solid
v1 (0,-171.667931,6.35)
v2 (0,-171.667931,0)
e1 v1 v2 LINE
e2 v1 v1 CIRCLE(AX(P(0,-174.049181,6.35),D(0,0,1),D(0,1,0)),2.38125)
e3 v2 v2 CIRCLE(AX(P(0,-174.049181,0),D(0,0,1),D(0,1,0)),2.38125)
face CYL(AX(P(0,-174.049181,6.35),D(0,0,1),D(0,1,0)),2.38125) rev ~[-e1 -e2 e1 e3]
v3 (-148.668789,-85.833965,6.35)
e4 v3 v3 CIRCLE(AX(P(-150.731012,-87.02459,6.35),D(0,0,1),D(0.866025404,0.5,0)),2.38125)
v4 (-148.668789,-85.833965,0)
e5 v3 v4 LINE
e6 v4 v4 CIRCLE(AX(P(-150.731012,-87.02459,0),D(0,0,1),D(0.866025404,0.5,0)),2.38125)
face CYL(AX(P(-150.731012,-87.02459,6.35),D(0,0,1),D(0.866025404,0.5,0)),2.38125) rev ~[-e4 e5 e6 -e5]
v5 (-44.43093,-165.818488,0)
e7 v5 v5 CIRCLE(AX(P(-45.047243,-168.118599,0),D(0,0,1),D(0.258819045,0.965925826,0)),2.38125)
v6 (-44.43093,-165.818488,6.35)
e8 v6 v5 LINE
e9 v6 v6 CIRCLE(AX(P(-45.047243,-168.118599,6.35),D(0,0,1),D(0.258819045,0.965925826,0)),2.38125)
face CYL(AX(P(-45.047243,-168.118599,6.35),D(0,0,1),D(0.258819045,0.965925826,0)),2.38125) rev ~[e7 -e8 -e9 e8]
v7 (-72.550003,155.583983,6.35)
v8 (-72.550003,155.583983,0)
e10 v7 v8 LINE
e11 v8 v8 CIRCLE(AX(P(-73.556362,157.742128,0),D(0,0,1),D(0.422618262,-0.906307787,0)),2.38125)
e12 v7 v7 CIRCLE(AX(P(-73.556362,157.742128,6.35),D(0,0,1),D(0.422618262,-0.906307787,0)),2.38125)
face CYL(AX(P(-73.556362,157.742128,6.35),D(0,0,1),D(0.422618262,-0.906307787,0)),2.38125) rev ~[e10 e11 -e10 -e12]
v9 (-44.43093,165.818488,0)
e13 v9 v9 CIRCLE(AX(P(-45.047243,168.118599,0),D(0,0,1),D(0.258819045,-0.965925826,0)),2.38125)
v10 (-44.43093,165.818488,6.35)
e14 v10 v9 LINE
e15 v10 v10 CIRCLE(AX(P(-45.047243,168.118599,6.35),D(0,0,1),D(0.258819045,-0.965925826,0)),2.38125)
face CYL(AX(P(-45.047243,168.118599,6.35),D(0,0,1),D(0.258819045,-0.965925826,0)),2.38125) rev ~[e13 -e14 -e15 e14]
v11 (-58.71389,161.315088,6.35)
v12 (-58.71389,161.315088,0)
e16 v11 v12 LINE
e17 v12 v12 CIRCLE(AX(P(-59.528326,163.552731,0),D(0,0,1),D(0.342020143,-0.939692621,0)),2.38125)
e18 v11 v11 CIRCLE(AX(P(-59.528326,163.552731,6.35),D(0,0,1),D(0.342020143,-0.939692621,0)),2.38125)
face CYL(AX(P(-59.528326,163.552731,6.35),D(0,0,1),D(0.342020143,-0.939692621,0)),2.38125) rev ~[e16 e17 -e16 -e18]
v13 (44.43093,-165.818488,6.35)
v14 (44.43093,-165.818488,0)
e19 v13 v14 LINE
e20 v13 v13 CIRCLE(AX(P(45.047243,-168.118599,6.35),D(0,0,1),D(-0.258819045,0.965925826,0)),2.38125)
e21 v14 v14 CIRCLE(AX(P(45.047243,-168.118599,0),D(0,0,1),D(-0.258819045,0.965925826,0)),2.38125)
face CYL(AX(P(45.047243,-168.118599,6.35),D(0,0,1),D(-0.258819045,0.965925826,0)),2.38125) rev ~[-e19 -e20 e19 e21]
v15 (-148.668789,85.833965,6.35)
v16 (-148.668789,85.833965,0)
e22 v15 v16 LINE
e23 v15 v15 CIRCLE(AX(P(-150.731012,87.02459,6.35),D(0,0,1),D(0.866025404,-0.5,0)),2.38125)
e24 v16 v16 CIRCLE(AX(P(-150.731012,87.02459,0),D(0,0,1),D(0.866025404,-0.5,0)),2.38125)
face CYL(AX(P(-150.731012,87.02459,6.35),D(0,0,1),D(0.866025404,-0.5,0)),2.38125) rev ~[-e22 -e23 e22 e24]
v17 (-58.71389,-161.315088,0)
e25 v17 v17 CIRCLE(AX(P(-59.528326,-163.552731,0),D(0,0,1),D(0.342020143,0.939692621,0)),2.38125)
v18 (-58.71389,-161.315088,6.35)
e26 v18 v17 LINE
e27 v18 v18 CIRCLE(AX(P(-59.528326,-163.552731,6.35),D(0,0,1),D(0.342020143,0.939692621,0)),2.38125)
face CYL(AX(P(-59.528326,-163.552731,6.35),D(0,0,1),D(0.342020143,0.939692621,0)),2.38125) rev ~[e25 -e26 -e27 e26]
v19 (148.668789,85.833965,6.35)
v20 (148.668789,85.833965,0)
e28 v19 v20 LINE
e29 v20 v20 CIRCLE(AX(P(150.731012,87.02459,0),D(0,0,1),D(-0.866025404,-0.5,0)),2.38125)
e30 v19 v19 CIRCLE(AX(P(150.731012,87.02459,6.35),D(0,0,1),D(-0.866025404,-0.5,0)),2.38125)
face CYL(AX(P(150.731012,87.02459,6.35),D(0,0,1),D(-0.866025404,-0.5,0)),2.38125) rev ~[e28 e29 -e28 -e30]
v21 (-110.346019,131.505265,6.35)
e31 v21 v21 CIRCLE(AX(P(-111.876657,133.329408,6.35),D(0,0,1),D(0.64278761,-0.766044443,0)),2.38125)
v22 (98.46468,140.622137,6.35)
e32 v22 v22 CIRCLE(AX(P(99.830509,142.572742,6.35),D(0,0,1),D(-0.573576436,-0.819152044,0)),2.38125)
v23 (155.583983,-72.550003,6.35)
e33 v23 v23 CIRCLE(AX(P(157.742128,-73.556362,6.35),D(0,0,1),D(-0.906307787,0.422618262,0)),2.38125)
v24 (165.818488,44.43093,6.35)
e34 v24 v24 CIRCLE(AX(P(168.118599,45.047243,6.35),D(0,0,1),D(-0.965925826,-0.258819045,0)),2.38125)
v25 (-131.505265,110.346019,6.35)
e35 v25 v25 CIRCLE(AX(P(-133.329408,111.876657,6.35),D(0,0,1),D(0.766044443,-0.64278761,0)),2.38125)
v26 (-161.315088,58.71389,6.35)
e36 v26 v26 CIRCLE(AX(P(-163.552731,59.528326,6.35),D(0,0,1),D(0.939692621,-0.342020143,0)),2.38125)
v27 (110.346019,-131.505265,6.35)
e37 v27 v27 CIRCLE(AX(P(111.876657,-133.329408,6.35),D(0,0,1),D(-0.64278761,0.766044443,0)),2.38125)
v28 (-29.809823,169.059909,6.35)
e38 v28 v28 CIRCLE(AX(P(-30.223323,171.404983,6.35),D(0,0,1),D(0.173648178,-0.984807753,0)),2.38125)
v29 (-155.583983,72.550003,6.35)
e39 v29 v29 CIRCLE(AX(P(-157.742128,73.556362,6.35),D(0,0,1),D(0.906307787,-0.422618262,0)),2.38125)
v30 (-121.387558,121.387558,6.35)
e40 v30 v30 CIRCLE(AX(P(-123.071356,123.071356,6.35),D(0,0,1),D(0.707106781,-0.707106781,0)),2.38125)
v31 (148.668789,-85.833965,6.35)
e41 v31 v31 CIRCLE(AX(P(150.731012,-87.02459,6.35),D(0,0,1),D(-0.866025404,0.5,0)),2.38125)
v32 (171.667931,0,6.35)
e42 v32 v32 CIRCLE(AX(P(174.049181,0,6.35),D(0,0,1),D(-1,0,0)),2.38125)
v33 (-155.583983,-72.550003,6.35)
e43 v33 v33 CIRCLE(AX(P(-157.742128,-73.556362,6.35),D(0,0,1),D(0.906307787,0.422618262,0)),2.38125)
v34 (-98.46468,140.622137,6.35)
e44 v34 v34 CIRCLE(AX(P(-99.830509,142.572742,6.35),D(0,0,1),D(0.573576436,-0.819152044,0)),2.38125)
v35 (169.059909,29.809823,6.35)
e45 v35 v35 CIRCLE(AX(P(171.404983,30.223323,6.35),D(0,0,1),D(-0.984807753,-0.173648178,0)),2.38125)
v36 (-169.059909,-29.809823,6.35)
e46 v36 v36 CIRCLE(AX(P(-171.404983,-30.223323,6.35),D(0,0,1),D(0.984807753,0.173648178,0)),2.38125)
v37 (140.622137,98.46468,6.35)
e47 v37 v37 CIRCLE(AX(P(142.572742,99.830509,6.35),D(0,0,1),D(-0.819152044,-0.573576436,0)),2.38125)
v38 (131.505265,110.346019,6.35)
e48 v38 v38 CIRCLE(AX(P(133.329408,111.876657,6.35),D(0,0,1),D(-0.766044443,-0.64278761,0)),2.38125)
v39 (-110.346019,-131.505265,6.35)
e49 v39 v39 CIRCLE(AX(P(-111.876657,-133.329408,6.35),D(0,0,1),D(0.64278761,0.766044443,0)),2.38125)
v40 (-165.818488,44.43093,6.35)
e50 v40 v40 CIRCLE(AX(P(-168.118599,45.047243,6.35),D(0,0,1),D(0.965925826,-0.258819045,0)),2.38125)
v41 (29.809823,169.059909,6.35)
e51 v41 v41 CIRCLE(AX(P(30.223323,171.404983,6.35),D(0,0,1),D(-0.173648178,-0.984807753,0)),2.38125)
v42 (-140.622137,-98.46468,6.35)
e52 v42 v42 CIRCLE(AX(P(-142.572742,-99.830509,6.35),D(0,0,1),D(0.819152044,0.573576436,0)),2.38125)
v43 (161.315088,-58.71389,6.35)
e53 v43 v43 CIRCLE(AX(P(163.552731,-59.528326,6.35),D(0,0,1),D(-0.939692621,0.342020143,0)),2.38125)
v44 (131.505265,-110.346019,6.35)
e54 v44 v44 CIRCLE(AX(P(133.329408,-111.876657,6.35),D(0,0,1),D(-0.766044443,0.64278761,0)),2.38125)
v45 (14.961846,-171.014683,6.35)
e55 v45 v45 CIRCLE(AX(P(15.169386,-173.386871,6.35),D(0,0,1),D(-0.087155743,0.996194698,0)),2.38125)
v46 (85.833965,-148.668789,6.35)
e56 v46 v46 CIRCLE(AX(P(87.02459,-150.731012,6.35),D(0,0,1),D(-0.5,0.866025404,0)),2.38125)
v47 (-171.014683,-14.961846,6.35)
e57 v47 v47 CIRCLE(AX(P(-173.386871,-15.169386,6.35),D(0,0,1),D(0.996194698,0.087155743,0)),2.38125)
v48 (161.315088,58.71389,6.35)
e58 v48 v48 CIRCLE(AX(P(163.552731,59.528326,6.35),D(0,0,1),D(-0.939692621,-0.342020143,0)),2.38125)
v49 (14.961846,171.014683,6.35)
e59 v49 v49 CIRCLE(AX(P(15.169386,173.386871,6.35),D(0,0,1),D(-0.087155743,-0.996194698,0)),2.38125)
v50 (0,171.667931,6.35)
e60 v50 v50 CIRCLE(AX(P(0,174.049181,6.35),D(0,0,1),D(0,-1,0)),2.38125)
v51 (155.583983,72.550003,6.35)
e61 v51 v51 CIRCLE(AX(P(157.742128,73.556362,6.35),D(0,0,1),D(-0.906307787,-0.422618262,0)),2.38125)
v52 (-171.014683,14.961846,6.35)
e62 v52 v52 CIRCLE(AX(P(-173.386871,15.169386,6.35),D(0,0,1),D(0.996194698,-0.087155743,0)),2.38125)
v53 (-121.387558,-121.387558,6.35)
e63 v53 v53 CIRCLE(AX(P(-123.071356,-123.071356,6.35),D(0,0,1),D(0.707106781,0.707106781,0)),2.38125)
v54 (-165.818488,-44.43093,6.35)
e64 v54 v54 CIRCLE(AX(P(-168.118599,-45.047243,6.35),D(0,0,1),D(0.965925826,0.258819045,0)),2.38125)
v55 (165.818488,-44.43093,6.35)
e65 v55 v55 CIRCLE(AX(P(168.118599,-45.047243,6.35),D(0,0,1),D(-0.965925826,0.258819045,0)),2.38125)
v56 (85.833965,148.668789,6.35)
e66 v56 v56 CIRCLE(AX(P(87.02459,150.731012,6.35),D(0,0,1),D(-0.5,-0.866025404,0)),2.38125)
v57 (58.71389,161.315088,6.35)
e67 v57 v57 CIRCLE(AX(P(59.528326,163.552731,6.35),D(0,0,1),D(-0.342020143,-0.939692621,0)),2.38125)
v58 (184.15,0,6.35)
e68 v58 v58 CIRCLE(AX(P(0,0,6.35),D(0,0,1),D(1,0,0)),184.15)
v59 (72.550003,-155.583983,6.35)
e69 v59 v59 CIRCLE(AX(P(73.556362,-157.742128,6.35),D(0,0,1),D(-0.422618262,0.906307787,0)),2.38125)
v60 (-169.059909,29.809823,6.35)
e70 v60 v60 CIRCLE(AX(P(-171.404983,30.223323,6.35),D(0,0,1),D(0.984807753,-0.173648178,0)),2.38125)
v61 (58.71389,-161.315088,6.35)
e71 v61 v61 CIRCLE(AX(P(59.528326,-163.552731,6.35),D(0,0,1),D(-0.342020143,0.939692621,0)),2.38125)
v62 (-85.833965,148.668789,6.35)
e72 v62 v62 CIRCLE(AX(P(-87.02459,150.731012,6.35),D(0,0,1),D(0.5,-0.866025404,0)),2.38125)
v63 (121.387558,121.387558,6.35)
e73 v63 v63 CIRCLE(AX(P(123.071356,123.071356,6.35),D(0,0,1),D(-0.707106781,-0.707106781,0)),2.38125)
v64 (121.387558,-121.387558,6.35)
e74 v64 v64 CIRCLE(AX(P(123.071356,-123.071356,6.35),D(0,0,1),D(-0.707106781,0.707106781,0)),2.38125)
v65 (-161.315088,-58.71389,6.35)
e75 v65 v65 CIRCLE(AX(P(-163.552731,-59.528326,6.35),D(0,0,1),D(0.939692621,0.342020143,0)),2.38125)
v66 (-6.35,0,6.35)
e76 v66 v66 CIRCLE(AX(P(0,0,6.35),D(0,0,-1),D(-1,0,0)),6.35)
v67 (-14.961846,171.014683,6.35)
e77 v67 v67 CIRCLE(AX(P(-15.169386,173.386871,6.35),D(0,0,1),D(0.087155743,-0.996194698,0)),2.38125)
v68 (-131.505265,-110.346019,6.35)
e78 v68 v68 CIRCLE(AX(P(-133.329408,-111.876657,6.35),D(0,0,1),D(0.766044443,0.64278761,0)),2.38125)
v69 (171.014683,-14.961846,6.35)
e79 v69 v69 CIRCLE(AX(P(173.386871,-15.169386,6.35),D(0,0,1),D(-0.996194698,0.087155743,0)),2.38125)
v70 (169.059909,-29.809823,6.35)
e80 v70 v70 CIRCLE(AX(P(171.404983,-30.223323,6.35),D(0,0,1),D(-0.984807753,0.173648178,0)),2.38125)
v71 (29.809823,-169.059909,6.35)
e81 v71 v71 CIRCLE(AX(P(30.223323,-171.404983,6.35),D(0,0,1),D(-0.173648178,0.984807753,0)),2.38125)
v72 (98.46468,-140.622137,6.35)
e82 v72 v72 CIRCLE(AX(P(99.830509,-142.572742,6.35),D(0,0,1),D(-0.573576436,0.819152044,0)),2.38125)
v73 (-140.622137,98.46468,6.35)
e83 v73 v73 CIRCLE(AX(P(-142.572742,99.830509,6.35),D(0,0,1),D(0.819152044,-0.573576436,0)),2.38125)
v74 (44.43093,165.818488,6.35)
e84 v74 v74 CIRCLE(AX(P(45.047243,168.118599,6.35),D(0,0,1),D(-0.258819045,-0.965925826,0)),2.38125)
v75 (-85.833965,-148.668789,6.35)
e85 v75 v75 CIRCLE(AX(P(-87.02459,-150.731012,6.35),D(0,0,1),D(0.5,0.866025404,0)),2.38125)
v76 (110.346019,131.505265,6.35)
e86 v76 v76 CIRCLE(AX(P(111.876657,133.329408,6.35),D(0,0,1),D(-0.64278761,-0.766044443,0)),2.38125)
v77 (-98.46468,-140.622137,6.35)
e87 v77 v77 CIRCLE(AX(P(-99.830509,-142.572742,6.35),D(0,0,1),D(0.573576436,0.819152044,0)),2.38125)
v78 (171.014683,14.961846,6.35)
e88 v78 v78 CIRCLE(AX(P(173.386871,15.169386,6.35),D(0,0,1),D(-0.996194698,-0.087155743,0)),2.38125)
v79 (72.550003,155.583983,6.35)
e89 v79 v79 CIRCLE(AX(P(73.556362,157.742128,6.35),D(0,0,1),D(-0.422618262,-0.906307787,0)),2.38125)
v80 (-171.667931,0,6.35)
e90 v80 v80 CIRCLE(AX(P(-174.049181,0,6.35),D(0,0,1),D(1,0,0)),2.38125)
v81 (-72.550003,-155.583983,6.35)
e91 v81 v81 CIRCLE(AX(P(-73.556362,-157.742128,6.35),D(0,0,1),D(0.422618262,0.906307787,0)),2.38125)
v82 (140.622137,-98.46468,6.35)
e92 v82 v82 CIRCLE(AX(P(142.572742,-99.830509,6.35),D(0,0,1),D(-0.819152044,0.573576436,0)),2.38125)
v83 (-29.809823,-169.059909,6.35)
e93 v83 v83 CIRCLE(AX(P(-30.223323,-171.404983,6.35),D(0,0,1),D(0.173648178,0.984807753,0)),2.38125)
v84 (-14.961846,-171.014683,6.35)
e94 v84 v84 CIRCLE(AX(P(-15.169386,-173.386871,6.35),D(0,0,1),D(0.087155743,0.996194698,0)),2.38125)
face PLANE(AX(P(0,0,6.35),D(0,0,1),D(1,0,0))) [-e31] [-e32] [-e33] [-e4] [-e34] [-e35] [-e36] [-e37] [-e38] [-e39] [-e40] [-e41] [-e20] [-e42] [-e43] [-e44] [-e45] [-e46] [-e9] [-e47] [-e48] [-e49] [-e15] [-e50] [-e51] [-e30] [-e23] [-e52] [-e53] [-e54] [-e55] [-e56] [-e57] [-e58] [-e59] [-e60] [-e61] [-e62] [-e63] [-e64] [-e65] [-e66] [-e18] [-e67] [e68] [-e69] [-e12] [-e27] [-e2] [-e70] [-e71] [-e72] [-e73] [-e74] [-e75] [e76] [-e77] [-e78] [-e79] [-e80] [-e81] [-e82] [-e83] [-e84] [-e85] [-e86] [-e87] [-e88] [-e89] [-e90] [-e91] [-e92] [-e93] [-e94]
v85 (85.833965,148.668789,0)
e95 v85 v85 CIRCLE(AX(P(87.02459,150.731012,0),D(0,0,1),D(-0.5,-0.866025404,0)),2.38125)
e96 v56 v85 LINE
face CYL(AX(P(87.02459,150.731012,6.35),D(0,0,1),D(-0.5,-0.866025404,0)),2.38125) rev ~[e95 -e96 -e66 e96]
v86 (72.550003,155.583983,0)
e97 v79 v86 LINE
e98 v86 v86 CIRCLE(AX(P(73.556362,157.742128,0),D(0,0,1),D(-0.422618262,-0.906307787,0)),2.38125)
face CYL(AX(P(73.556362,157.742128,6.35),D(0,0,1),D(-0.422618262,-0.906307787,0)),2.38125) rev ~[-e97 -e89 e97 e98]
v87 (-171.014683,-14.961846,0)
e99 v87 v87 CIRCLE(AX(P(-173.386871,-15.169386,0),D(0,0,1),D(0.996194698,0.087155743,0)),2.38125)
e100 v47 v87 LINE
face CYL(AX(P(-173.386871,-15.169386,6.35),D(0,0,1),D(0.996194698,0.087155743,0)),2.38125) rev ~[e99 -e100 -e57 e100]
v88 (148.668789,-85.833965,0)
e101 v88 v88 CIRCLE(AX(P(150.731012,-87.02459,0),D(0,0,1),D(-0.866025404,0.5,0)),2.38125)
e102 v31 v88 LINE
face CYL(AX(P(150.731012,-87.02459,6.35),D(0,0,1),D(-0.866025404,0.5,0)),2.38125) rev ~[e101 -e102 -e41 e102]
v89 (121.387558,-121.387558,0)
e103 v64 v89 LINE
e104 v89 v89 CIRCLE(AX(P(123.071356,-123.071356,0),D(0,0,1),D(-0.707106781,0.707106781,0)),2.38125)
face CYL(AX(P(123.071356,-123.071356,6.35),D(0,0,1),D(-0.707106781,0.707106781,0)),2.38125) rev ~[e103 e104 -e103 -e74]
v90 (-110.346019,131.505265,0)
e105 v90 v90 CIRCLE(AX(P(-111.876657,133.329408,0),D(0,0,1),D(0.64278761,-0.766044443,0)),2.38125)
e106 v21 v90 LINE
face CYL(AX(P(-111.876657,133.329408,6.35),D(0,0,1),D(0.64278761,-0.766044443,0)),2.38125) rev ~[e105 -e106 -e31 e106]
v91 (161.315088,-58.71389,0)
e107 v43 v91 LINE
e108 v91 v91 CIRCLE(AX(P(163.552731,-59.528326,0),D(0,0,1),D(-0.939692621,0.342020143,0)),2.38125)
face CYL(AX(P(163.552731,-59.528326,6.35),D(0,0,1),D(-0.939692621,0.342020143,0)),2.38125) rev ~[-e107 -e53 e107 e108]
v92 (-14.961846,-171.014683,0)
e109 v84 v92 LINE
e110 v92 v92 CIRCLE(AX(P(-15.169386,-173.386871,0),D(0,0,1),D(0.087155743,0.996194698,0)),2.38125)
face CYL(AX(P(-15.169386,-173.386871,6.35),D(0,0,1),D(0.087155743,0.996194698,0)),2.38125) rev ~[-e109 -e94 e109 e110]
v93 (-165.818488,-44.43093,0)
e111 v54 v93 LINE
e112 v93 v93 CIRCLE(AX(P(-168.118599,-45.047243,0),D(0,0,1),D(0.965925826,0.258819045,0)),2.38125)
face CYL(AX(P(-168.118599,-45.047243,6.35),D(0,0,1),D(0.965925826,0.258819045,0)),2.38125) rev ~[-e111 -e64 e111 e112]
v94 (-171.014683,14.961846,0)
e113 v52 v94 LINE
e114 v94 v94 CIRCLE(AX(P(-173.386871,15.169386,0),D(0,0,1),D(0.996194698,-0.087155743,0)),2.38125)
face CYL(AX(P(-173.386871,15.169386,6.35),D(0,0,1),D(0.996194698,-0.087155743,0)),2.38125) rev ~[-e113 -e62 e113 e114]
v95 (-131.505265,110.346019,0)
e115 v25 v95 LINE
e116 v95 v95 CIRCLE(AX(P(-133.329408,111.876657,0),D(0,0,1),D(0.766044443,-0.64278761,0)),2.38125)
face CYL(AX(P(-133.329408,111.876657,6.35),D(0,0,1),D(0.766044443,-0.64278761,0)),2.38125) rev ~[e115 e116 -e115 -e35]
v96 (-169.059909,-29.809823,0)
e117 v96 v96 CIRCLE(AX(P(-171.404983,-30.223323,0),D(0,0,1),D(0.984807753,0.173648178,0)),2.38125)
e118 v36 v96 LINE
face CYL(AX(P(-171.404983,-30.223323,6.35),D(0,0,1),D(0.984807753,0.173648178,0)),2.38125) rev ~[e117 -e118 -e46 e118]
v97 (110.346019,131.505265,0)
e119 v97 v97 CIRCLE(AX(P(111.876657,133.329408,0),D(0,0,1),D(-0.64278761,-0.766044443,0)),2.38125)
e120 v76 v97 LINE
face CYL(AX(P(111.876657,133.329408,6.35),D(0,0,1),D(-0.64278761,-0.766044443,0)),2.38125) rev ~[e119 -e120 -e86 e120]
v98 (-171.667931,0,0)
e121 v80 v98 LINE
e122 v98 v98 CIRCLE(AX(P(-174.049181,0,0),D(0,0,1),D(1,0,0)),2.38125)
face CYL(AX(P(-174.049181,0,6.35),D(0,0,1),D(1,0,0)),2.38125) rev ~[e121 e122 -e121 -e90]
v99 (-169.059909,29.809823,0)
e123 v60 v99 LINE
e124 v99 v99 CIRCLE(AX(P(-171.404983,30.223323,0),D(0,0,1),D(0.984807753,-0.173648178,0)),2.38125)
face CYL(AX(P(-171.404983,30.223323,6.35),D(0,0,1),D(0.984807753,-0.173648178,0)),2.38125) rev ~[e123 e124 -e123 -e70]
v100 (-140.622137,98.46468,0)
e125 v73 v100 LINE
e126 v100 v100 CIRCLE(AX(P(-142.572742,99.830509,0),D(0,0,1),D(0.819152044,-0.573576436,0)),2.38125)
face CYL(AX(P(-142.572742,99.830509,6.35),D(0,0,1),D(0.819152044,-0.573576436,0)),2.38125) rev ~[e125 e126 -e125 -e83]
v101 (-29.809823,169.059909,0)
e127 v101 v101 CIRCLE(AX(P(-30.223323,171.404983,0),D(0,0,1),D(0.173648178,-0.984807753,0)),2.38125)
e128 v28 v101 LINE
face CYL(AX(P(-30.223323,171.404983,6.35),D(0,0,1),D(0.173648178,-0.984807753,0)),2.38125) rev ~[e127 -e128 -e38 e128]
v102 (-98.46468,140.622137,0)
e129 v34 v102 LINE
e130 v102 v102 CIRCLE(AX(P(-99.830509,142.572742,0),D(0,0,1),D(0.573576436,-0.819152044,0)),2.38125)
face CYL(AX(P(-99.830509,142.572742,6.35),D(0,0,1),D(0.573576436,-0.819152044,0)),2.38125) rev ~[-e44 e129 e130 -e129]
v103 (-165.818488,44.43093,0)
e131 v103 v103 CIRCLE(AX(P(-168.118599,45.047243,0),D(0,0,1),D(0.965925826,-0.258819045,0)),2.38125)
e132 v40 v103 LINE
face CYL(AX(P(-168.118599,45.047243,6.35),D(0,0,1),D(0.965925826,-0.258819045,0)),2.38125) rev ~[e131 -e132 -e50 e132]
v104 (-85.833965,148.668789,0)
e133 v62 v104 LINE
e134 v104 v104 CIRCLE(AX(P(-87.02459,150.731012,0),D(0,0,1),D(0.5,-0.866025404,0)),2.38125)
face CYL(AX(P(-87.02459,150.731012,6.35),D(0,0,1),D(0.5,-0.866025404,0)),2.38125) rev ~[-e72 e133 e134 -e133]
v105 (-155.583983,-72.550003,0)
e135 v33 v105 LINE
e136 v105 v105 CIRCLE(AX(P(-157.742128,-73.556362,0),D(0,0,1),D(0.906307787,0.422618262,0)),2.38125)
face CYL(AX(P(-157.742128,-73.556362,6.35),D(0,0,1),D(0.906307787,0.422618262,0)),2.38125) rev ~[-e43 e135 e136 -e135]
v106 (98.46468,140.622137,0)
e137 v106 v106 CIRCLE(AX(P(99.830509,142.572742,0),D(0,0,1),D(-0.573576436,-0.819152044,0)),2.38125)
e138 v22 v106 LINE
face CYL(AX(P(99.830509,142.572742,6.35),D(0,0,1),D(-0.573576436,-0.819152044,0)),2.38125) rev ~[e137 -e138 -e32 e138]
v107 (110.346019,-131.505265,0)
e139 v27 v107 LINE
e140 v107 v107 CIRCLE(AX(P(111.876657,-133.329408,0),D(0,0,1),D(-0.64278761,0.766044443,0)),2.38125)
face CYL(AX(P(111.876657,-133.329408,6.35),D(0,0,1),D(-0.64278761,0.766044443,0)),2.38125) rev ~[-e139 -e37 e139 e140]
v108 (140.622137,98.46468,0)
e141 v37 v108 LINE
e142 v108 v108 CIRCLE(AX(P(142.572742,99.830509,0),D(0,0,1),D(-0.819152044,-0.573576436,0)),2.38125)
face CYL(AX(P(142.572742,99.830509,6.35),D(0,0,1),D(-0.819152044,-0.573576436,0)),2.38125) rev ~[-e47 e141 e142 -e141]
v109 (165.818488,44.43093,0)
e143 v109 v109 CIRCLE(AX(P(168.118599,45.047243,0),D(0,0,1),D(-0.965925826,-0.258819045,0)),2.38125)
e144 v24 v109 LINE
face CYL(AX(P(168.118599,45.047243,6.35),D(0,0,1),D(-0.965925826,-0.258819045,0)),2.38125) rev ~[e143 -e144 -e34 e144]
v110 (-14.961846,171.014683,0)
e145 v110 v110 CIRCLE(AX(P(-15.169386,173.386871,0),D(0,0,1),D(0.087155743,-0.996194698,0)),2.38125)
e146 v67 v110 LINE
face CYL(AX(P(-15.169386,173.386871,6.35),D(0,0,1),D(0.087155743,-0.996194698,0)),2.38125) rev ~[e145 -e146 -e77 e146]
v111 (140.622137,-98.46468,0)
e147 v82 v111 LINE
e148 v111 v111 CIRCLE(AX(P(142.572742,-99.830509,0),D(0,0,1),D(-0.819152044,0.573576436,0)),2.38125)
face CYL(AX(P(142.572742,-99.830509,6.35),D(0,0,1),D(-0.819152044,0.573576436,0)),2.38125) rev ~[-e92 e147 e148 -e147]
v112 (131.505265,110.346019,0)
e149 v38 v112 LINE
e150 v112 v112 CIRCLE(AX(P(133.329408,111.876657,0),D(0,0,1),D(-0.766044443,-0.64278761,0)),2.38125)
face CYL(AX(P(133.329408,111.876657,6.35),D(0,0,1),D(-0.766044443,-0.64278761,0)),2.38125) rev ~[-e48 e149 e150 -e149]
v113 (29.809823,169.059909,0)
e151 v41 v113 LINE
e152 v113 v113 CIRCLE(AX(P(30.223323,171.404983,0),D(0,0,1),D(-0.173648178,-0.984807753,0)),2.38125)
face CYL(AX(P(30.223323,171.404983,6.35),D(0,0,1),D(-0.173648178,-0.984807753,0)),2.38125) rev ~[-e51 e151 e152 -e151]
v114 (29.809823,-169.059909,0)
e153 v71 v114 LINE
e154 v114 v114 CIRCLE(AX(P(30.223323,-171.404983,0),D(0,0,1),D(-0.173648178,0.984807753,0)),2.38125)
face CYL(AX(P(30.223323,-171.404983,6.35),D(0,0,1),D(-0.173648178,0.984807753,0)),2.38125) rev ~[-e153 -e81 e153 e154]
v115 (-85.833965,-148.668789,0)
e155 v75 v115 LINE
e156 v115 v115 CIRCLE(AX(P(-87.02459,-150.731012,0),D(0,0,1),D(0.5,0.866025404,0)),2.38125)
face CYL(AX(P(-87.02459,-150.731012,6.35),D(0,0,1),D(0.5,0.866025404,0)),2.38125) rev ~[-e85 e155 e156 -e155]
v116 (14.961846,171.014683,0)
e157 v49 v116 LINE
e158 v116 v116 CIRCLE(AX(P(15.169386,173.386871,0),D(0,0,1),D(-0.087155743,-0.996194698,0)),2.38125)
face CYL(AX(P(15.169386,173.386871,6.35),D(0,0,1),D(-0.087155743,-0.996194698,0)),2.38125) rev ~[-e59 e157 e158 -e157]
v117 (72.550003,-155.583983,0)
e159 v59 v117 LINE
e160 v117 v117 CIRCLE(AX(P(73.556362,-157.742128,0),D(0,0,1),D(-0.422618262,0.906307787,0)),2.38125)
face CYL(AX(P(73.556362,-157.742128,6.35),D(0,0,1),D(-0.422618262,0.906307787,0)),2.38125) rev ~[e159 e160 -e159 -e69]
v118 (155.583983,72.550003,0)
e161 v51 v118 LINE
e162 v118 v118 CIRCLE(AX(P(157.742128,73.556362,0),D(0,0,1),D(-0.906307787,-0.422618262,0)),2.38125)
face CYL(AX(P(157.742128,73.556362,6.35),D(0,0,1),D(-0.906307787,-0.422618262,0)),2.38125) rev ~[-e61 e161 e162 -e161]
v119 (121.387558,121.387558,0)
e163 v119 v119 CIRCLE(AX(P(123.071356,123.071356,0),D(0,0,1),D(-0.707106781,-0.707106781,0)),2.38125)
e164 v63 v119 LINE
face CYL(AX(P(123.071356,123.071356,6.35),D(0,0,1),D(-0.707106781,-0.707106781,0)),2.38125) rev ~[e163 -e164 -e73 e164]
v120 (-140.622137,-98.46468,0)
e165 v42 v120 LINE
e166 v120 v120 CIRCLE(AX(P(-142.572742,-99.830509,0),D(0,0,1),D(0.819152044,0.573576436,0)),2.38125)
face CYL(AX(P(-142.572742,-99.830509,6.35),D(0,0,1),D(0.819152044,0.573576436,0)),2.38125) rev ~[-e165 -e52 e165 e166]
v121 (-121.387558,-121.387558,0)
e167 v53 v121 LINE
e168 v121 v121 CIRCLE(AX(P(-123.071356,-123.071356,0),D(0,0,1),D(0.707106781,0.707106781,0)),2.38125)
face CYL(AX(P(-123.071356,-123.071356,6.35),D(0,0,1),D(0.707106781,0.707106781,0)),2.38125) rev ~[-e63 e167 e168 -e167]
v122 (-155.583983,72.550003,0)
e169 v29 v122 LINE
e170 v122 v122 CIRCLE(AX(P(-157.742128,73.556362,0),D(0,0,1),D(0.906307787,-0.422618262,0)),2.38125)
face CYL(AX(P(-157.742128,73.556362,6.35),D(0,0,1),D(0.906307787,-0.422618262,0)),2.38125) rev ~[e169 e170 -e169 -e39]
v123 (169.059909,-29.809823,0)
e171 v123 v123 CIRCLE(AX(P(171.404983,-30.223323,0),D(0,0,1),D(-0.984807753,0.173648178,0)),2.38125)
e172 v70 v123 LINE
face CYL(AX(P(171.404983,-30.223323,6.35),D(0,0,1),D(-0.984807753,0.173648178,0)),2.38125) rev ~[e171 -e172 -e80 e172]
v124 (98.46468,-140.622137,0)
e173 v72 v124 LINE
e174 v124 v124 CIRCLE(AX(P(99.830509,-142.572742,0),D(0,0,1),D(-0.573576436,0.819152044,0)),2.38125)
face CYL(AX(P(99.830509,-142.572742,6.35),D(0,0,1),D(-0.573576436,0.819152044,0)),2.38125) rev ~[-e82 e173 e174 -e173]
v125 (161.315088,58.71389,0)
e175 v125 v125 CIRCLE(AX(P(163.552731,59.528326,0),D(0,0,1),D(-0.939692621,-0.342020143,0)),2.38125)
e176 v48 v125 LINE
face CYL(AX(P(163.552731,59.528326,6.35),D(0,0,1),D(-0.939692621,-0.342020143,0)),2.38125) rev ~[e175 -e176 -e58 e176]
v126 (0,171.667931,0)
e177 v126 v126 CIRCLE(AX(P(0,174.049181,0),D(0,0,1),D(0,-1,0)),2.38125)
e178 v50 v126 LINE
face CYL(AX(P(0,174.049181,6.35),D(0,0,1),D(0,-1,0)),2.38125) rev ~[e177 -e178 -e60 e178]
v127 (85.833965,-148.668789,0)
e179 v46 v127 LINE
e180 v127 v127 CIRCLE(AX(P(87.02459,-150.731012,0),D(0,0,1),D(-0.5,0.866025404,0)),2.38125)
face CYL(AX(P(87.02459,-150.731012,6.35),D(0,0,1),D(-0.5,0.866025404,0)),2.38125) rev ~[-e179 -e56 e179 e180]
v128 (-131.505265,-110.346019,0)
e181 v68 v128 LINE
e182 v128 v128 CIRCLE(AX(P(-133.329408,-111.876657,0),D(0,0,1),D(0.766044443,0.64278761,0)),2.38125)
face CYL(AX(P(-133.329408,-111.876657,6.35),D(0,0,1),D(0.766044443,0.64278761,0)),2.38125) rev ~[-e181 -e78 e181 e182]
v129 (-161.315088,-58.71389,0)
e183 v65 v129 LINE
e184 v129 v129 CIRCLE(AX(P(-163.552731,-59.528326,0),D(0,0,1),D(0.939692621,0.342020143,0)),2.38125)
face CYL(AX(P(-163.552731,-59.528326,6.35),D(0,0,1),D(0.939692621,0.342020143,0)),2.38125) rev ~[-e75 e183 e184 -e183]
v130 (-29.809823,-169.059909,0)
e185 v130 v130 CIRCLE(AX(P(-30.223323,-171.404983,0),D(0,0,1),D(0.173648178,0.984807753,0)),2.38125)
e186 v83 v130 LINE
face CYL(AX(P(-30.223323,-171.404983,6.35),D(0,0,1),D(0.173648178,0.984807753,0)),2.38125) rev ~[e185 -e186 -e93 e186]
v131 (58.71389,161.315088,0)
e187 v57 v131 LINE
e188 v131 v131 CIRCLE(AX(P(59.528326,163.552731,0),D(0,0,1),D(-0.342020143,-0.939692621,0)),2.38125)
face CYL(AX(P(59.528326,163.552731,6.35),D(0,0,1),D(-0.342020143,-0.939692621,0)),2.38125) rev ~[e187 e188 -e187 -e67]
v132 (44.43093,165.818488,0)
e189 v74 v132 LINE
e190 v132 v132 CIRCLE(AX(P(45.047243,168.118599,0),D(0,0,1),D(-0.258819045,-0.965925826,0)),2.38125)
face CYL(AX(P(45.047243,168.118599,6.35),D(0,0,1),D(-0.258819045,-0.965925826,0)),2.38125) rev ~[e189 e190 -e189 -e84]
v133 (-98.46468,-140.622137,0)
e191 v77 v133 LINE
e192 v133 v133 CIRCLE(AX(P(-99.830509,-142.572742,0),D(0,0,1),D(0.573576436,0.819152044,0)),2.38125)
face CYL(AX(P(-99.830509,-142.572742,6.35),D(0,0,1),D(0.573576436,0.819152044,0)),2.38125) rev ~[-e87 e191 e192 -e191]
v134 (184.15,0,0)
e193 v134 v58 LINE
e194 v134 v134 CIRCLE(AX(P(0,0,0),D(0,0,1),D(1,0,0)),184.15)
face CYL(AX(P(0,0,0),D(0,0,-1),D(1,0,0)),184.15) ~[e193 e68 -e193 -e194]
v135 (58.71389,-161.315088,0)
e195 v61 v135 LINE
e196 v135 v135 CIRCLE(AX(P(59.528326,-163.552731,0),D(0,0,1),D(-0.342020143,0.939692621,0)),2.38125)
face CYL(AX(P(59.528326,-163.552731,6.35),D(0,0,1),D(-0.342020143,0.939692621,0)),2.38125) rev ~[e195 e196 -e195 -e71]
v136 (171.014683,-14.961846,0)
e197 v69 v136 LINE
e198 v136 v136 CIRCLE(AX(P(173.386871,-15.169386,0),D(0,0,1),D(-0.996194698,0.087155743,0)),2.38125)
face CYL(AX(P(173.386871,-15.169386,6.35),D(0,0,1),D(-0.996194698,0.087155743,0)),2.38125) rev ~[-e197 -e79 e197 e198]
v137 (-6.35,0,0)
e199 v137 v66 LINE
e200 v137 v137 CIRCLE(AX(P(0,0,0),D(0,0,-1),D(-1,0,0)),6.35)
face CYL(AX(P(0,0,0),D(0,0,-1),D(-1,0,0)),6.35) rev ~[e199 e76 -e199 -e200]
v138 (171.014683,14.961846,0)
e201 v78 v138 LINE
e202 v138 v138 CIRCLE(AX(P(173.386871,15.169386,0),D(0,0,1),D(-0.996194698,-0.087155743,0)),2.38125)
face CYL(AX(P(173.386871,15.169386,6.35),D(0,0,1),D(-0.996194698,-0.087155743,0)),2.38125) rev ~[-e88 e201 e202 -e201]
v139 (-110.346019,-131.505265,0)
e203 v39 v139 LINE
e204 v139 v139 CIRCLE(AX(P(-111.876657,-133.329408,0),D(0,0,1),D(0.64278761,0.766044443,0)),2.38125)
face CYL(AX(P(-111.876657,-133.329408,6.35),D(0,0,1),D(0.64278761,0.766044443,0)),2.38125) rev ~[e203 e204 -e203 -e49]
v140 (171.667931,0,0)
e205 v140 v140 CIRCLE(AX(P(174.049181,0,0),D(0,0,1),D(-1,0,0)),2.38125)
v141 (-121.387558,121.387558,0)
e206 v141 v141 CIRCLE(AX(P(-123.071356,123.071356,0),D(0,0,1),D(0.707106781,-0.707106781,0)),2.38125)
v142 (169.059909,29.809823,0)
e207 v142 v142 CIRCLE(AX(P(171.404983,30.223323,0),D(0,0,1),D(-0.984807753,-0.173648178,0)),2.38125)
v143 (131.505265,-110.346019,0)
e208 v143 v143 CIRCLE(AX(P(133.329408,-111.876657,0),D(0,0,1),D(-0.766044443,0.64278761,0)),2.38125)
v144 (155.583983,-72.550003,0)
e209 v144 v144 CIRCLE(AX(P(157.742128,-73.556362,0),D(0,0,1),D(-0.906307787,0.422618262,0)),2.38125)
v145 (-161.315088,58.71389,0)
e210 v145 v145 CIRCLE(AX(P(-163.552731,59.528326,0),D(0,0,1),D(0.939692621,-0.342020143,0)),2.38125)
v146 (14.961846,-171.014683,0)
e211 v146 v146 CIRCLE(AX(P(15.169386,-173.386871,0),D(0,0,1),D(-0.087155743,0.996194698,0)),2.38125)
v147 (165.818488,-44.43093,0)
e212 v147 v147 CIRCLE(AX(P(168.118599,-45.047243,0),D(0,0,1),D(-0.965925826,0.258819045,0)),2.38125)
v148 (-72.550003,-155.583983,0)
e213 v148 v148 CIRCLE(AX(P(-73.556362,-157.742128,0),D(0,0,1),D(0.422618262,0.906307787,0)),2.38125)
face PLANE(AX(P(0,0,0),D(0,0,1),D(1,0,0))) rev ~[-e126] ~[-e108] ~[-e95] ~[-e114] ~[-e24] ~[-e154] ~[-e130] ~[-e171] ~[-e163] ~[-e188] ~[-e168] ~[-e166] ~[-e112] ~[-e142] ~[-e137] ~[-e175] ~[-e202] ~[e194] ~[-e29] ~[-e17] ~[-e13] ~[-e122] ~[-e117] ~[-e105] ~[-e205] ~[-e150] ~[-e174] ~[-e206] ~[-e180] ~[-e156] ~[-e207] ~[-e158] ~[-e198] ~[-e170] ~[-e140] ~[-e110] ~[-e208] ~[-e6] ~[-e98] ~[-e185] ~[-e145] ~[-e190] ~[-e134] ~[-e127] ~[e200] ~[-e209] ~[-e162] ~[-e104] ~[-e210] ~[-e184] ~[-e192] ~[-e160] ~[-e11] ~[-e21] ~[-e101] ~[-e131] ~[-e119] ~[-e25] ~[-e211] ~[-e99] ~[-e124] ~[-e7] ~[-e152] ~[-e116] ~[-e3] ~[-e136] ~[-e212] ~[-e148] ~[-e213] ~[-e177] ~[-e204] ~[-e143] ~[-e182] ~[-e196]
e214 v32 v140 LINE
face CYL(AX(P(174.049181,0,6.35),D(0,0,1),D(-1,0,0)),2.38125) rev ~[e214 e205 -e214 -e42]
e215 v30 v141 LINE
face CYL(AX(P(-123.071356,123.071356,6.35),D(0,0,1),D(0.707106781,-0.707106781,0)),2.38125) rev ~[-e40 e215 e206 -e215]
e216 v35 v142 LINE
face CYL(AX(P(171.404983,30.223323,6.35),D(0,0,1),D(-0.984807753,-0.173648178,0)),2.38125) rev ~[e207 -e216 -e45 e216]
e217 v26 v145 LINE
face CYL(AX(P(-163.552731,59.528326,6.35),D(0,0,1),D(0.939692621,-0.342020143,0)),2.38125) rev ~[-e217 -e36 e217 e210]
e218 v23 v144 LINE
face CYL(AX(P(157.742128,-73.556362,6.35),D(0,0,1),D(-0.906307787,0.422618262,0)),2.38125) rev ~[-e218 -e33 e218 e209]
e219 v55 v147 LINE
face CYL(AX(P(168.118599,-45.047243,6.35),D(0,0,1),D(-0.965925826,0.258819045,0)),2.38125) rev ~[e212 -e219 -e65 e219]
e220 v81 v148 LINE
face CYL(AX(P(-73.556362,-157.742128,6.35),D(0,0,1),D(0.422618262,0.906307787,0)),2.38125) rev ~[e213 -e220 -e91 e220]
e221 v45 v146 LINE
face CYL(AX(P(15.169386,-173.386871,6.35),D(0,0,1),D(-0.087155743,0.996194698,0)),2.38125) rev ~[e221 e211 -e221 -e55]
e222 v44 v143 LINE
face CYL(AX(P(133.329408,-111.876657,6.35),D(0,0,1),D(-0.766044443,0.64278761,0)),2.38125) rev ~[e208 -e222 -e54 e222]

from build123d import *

# Parameters (mm, degrees)
SKETCH2_R           = 184.15
BOSS_EXTRUDE1_DEPTH = 6.35
SKETCH9_R           = 2.38125
CUT_EXTRUDE4_DEPTH  = 261.504832009
CIRPATTERN1_COUNT   = 72
SKETCH10_R          = 6.35
CUT_EXTRUDE7_DEPTH  = 261.504832009


with BuildPart() as part:
    # Sketch2 → Boss-Extrude1 (new body)
    with BuildSketch(Plane.XY):
        Circle(SKETCH2_R)
    extrude(amount=BOSS_EXTRUDE1_DEPTH)

    # Sketch9 → Cut-Extrude4 (cut, through all)
    with BuildSketch(Plane.XY.offset(6.35)):
        with Locations((-174.049180881, 0)):
            Circle(SKETCH9_R)
    cut_extrude4 = extrude(amount=-CUT_EXTRUDE4_DEPTH, mode=Mode.SUBTRACT)

    # CirPattern1: Cut-Extrude4 ×72 about axis
    cirpattern1_axis = Axis((0, 0, 0), (0, 0, 1))
    for i in range(1, CIRPATTERN1_COUNT):
        add(cut_extrude4.rotate(cirpattern1_axis, i * 360 / CIRPATTERN1_COUNT), mode=Mode.SUBTRACT)

    # Sketch10 → Cut-Extrude7 (cut, through all)
    with BuildSketch(Plane(origin=(0, 0, 0), x_dir=(-1, 0, 0), z_dir=(0, 0, -1))):
        Circle(SKETCH10_R)
    extrude(amount=-CUT_EXTRUDE7_DEPTH, mode=Mode.SUBTRACT)


solid = part.part
